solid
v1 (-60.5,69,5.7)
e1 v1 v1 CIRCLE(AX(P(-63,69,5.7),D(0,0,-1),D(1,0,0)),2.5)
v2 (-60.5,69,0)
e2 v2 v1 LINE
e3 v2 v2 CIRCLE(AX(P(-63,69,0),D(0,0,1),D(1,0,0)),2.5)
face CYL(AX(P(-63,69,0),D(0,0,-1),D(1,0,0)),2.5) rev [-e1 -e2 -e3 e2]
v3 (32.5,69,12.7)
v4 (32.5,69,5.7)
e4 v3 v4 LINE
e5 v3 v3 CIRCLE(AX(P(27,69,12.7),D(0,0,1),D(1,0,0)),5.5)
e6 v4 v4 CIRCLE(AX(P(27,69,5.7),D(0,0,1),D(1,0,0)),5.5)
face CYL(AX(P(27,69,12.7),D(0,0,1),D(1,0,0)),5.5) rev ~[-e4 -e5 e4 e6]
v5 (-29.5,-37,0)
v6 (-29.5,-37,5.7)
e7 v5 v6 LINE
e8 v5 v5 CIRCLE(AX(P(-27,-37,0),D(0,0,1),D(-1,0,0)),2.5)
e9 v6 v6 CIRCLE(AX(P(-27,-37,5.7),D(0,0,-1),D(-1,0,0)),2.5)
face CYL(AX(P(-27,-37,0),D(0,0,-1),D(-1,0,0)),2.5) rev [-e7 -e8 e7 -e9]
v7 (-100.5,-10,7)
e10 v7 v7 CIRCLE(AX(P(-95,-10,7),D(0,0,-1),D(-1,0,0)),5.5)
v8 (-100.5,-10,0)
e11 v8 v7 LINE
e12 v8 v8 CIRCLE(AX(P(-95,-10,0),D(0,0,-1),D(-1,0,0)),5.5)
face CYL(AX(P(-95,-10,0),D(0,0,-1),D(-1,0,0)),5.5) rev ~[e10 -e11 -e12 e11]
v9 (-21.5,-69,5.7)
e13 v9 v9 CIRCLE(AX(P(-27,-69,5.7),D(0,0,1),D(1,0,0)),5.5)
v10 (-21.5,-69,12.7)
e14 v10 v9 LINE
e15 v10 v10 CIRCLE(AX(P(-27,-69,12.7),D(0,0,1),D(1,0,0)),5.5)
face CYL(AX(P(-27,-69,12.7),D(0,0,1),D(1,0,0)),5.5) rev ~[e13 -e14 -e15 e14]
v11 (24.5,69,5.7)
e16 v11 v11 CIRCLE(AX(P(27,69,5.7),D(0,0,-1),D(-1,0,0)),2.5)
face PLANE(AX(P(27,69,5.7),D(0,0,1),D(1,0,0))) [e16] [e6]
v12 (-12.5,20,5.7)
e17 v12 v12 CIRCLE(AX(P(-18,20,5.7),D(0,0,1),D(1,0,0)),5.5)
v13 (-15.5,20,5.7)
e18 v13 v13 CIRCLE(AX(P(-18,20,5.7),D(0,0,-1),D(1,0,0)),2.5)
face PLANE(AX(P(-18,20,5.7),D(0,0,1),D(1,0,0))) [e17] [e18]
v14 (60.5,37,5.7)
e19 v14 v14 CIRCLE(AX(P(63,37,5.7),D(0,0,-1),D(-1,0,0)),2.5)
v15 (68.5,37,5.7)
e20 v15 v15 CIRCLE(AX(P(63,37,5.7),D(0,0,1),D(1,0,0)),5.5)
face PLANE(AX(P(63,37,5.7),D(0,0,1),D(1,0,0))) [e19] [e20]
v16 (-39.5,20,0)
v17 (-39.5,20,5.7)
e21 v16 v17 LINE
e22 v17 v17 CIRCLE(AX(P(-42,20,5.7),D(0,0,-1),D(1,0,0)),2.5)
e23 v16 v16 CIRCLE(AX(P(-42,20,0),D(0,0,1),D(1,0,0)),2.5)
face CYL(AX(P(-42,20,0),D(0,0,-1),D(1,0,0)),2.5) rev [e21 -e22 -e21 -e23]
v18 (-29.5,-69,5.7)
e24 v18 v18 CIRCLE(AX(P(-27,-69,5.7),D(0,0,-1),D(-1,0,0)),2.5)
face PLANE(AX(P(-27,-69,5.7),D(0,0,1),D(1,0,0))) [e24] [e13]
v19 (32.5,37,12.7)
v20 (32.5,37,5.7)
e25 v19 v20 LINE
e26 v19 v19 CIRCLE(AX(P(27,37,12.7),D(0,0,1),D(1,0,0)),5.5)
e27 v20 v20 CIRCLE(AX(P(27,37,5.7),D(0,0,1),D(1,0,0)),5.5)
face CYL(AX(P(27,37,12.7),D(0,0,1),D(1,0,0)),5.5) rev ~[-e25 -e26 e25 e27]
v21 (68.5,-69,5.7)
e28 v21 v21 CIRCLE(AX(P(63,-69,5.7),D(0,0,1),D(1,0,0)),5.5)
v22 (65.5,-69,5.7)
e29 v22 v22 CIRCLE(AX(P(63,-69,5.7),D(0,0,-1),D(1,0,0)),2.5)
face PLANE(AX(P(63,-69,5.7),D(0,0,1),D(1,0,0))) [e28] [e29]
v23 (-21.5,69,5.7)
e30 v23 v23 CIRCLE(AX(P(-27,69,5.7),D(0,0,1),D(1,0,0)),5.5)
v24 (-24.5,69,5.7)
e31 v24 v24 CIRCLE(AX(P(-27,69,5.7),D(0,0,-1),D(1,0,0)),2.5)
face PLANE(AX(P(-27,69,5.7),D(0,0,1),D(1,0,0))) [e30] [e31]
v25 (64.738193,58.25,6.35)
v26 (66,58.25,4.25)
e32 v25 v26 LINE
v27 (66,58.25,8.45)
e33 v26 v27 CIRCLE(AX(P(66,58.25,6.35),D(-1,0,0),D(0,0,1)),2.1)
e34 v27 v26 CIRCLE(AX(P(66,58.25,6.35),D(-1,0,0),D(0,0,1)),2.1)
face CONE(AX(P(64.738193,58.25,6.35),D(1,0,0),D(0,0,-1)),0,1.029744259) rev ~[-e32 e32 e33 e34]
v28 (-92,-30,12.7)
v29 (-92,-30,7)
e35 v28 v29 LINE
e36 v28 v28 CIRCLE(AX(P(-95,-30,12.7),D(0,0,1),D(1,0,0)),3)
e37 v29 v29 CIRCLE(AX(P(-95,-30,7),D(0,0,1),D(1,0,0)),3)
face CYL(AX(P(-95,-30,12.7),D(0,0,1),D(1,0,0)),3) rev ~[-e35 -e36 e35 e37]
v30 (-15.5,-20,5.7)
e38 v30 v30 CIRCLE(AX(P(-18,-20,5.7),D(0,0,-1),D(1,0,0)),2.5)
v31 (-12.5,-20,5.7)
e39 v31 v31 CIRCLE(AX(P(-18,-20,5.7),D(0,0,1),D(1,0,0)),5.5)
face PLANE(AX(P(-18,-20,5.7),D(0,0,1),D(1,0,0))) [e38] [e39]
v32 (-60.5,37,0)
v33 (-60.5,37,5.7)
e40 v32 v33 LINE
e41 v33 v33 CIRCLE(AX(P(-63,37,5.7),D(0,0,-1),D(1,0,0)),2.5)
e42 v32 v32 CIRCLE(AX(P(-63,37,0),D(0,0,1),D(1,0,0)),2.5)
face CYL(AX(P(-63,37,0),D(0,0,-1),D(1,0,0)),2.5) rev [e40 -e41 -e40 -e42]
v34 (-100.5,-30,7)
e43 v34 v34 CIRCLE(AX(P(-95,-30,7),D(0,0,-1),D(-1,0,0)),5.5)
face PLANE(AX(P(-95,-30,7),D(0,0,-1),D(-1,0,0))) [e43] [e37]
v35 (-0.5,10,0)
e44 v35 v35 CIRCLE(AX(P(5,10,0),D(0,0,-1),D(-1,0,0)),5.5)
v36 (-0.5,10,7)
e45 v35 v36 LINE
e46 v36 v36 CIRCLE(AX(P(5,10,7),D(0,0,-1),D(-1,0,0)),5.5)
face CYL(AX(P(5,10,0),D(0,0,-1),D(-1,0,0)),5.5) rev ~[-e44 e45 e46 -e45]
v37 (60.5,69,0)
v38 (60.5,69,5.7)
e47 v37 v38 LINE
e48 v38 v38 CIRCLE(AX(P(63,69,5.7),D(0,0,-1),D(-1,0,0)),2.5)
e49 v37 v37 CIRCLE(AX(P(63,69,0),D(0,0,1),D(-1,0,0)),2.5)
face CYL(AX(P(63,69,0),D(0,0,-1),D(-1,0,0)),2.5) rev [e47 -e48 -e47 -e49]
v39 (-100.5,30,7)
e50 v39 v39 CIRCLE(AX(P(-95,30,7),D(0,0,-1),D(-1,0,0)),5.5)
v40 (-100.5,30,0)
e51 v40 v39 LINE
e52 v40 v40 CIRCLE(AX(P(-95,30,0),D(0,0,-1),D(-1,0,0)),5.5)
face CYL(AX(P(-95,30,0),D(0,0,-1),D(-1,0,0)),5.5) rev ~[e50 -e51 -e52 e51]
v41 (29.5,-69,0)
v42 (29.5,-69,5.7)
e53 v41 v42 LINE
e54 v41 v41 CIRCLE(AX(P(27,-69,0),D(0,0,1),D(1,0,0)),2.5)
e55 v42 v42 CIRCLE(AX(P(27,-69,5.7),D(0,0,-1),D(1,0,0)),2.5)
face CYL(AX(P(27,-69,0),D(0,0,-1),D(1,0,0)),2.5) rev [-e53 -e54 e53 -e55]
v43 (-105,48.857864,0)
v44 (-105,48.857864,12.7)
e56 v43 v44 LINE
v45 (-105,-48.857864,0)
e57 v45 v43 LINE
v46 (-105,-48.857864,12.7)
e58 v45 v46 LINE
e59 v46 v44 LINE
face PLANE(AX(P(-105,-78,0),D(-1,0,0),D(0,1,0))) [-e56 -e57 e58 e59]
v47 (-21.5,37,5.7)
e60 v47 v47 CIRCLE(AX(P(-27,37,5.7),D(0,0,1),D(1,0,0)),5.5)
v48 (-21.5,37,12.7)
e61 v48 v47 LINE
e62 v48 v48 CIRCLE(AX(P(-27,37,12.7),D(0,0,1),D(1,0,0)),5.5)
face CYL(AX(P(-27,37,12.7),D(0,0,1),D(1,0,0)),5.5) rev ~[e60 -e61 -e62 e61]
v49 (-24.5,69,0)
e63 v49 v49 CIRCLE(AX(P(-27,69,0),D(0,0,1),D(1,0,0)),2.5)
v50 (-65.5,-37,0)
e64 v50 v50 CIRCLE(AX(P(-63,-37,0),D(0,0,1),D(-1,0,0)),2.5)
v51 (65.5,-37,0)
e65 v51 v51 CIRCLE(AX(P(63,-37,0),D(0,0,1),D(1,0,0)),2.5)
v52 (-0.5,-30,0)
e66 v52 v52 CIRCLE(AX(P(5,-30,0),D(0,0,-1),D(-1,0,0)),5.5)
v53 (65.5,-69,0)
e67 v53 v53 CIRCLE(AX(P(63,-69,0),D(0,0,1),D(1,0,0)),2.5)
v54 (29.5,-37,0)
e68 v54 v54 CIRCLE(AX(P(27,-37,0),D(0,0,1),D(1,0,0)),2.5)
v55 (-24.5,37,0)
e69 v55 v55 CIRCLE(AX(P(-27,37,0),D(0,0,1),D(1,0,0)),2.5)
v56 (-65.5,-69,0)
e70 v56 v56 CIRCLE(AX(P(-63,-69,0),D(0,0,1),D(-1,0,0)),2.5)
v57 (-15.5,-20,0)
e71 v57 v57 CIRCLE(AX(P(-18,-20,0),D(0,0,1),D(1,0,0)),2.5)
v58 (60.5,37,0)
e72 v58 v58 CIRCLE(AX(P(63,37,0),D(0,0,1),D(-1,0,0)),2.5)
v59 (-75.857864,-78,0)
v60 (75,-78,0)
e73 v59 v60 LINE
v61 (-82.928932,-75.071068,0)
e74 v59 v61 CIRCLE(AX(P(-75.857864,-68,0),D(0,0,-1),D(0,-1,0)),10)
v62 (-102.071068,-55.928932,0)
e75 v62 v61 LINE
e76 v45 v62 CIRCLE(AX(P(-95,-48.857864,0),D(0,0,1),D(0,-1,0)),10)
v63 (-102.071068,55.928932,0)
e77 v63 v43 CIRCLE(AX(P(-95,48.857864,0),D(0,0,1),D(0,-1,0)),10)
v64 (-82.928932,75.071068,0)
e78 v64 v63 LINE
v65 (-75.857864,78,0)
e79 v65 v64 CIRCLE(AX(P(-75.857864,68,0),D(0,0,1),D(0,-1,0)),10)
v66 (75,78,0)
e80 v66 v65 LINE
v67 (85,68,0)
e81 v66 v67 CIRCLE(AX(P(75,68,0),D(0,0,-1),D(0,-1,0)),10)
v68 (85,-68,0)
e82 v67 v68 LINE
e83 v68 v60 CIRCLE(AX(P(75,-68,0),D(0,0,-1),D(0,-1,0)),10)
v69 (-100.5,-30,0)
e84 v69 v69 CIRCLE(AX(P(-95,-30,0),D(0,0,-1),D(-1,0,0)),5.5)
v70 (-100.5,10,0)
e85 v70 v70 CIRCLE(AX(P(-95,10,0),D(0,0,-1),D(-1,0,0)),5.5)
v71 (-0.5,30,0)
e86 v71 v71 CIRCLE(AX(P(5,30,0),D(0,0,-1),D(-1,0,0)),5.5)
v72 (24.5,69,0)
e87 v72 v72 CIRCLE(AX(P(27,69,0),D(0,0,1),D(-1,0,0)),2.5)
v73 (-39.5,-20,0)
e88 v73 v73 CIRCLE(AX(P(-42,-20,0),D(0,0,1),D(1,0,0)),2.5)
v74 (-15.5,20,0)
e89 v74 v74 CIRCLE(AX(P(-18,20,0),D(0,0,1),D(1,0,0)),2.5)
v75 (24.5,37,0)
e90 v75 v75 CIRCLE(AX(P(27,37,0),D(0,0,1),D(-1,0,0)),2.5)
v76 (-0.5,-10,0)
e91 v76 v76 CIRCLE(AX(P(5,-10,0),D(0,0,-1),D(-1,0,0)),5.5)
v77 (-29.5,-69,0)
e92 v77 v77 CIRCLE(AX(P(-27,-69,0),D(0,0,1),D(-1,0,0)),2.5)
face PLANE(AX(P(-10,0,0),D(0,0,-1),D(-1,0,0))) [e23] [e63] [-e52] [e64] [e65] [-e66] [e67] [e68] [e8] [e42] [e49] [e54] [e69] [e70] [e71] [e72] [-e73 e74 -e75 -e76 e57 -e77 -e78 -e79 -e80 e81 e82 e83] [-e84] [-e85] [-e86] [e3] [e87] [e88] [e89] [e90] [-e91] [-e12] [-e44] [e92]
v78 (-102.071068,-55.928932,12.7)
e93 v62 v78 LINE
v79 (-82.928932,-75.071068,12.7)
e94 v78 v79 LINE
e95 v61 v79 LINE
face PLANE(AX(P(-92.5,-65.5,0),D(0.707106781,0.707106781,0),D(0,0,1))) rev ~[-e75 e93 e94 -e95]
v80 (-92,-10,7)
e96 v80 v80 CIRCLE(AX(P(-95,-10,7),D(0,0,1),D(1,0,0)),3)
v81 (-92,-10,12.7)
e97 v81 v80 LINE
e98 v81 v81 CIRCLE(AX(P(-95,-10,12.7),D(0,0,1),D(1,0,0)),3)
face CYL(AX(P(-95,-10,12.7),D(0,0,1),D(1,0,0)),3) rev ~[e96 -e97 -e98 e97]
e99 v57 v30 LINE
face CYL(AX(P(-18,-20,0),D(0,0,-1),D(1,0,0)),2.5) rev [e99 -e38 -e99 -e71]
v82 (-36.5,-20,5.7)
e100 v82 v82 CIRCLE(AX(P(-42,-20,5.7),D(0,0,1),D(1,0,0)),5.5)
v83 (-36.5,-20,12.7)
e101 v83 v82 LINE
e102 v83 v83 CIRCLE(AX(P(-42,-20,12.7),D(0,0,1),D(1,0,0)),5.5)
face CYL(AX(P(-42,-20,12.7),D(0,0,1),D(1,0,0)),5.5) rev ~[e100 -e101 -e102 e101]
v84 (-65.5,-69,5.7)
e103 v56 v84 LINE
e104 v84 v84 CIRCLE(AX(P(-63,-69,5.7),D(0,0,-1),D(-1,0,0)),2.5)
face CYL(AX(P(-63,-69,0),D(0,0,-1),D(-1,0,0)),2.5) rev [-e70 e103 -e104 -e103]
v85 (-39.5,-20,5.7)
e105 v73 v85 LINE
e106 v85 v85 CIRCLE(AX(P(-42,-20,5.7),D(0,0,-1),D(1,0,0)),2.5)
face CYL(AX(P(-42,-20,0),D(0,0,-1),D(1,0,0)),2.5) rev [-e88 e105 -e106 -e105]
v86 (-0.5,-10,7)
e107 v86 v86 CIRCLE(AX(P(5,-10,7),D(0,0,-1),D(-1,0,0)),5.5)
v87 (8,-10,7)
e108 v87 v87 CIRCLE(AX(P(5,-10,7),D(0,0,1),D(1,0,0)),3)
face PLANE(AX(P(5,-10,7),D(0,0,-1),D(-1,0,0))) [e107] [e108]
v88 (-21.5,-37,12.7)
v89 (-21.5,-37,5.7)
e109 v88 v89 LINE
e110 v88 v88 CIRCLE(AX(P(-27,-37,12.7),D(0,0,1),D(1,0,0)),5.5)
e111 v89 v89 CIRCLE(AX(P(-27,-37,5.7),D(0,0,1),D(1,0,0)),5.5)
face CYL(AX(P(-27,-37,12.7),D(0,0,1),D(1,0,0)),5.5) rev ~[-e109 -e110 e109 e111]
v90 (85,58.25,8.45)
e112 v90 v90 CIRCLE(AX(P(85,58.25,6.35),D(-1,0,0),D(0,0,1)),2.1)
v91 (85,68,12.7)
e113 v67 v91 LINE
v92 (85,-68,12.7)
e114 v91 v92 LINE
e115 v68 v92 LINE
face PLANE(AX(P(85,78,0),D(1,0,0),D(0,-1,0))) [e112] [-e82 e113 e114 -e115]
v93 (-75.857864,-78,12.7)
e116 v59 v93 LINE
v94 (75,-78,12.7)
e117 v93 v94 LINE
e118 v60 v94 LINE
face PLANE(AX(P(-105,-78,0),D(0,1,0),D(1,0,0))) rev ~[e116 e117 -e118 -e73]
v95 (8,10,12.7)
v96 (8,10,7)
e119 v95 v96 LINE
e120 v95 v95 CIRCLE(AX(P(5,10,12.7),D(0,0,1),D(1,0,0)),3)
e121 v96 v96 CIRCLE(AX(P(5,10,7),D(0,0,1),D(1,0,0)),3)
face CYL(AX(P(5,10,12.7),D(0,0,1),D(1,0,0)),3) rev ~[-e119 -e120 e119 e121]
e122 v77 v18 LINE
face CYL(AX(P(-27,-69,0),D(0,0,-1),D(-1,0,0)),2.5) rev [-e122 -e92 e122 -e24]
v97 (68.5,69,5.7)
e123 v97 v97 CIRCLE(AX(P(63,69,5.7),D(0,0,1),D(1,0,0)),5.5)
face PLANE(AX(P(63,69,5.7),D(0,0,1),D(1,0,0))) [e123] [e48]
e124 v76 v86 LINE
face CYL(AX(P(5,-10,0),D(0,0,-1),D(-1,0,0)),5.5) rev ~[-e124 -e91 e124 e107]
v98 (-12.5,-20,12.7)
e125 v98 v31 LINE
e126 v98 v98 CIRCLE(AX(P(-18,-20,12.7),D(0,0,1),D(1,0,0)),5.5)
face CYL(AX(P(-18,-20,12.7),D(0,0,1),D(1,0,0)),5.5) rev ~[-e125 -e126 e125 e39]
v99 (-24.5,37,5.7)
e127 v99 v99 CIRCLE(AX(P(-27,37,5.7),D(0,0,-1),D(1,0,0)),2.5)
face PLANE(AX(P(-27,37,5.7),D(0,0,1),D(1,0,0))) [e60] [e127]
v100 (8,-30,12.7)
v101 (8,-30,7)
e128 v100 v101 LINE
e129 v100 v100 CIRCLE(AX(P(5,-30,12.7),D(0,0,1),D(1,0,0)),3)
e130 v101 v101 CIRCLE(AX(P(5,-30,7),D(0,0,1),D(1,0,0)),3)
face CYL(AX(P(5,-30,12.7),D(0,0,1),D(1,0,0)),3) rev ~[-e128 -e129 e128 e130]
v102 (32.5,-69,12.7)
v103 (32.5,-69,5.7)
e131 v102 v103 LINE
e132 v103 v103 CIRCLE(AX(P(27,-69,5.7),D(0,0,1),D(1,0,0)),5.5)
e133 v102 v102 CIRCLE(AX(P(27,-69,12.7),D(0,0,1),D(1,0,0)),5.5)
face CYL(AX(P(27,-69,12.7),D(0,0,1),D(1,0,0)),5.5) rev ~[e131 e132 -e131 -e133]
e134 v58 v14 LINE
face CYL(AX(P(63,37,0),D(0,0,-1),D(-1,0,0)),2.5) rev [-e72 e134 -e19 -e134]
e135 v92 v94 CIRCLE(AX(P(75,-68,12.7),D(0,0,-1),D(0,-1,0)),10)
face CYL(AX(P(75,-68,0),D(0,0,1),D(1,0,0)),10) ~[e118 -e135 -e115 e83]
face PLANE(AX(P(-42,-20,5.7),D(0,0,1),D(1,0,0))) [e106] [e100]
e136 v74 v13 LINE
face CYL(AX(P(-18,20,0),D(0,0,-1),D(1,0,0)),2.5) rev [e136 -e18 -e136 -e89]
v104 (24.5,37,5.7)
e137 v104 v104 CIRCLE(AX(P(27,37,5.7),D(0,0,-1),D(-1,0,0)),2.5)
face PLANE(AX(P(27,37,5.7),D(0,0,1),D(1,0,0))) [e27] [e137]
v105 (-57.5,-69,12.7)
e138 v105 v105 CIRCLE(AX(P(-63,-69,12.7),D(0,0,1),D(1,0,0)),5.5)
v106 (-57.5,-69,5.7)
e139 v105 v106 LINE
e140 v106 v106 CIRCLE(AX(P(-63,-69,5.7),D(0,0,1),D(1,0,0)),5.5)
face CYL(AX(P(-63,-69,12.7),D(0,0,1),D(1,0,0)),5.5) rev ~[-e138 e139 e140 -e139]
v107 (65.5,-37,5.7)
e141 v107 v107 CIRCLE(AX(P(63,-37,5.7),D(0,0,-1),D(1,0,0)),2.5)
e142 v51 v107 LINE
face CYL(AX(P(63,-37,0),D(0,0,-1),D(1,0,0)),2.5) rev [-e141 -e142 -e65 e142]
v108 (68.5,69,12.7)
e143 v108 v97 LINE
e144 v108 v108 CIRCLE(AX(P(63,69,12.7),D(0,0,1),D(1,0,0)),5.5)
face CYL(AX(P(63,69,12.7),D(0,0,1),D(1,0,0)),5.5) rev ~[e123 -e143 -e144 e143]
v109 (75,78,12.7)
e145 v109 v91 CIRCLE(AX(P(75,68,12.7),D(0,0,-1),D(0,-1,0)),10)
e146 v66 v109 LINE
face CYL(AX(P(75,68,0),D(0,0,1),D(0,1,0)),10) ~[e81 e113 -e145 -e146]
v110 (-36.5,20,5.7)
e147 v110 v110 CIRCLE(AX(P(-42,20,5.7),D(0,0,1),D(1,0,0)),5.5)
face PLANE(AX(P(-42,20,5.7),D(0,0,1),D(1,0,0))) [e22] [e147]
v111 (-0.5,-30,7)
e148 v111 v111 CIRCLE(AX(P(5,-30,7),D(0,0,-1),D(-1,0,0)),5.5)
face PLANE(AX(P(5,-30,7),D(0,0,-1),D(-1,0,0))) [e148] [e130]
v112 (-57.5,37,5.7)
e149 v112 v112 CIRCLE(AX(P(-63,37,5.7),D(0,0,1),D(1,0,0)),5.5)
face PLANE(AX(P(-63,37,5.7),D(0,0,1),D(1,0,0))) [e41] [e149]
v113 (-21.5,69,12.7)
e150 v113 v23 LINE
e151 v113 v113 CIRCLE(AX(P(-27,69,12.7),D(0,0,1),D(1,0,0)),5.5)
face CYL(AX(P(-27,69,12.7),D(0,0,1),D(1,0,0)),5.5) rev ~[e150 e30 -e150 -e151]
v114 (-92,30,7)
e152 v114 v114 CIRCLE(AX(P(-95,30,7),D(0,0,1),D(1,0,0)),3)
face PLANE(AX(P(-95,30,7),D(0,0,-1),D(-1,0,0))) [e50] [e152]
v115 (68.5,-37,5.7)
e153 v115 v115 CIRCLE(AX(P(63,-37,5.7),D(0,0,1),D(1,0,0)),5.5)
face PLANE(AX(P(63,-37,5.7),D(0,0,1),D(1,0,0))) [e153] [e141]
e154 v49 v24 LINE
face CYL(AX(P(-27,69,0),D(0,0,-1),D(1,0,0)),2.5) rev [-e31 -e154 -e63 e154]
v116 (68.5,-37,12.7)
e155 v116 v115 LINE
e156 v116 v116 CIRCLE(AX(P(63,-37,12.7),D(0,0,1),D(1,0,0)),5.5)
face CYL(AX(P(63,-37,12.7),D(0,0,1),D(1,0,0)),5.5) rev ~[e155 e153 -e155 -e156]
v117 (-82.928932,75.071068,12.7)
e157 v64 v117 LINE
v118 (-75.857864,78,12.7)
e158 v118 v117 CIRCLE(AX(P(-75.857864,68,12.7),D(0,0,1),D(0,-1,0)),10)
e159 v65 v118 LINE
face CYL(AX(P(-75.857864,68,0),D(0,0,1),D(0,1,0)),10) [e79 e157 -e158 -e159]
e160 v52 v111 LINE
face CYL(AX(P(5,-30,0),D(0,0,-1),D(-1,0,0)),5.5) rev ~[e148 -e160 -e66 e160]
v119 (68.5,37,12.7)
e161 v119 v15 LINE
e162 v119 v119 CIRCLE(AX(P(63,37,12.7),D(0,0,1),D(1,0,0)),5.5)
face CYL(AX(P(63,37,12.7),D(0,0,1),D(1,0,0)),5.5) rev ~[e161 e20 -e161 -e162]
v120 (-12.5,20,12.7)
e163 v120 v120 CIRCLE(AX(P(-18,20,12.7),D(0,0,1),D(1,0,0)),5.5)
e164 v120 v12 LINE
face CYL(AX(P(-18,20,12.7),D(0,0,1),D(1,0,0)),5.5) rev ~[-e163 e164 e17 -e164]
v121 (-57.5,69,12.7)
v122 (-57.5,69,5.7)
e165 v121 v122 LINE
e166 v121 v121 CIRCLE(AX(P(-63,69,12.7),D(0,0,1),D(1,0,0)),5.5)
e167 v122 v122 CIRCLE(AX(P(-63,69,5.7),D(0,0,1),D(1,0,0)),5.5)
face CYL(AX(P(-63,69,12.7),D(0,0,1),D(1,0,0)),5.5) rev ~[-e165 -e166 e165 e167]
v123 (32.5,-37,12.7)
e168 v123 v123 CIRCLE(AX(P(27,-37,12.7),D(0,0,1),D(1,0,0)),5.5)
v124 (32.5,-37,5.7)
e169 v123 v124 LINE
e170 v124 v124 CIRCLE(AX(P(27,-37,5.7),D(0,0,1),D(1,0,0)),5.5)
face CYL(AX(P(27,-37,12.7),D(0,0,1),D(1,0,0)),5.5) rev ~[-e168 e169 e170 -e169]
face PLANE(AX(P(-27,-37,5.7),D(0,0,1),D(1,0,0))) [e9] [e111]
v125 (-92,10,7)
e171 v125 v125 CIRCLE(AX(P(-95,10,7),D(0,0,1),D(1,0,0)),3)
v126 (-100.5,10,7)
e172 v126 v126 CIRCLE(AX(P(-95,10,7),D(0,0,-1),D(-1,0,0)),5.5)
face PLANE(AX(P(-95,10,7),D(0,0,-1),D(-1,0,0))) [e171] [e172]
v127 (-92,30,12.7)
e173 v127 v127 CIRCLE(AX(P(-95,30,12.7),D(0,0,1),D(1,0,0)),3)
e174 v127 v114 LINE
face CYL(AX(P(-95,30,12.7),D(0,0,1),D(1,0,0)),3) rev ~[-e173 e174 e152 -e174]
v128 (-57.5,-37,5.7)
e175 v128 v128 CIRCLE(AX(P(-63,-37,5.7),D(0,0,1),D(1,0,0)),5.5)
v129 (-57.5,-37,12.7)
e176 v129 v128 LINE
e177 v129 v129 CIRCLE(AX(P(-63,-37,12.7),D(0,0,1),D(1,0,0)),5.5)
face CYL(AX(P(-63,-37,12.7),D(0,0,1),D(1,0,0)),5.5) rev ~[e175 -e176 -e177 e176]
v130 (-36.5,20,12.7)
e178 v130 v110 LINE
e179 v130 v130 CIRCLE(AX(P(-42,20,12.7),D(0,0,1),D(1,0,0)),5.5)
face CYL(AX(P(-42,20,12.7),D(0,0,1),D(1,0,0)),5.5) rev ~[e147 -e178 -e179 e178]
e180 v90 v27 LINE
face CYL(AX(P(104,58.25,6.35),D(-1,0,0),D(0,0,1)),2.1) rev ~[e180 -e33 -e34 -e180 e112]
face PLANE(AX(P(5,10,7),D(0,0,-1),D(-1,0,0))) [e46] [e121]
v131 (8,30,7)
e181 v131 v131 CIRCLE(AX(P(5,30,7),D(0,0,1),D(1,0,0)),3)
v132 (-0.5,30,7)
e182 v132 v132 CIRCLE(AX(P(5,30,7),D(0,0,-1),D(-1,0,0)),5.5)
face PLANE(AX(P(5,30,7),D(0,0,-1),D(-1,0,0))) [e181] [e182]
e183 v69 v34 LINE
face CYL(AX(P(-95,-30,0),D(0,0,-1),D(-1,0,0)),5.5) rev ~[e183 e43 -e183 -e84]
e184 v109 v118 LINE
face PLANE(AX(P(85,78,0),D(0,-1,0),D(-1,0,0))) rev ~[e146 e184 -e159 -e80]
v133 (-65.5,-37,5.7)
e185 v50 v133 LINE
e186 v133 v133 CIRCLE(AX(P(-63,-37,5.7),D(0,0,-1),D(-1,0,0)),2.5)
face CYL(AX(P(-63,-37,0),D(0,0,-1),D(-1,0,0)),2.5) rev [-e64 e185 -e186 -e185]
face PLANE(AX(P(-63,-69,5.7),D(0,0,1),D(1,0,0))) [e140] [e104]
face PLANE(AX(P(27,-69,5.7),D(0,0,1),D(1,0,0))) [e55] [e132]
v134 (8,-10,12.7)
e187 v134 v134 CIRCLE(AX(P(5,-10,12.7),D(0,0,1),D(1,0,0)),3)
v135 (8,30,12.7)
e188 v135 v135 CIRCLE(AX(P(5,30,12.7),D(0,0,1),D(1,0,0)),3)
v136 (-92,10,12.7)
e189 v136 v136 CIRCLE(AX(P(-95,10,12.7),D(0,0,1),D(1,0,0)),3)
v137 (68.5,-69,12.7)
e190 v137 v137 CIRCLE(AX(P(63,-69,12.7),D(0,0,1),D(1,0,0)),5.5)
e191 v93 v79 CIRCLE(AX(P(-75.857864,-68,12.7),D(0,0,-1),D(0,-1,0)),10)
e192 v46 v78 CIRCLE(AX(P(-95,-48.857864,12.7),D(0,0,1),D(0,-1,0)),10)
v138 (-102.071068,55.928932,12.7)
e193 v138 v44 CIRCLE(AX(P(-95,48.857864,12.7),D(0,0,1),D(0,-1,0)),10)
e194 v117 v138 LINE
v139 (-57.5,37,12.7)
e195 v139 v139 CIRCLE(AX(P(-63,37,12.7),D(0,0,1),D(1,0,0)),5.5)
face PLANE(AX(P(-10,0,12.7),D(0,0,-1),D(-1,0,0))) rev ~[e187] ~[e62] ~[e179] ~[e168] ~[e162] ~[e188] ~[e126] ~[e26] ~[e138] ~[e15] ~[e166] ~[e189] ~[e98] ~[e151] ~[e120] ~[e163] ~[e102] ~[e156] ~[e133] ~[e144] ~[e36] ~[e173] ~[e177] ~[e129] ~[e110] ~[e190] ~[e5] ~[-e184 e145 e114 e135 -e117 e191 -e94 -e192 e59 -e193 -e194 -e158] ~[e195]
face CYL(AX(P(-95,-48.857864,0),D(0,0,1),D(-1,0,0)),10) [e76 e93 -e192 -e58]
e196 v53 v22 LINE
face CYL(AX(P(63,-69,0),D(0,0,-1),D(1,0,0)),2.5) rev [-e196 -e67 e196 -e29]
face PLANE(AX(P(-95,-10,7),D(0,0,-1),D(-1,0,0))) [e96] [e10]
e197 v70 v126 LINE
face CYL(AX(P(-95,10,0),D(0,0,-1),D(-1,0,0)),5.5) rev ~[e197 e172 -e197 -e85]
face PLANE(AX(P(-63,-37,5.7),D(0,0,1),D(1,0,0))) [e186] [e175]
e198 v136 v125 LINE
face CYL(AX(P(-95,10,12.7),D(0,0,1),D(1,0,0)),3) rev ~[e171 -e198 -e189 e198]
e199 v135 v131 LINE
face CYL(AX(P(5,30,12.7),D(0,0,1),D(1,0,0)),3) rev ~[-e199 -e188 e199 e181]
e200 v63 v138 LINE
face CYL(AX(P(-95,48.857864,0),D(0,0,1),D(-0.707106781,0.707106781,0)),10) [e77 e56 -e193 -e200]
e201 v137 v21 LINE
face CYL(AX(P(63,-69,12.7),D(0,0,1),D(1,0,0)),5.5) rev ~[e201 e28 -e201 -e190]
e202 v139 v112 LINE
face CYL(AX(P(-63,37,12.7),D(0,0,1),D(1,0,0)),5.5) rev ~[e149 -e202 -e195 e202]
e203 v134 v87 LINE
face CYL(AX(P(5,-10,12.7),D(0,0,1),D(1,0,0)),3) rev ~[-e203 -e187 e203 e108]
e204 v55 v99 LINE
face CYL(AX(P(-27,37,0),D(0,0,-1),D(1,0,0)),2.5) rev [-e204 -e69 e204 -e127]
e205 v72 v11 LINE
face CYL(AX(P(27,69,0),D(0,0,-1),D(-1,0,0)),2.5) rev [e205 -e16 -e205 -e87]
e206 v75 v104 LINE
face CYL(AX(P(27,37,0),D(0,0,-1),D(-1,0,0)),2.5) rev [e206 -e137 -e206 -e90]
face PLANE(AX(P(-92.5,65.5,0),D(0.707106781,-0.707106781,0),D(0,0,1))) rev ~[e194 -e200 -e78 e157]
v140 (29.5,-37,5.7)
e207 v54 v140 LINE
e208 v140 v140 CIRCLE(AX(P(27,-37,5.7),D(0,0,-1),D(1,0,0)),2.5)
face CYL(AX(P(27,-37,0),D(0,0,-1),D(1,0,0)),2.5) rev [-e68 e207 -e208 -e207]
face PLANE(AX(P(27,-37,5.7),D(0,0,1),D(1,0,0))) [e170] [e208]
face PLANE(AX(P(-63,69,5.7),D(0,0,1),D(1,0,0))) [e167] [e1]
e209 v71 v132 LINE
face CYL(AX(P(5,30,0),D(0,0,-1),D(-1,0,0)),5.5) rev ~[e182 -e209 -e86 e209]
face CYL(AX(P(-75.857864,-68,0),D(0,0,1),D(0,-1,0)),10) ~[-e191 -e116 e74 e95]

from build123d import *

# Parameters (mm, degrees)
SKETCH1_R                 = 2.5
BOSS_EXTRUDE1_DEPTH       = 12.7
SKETCH2_R                 = 5.5
CUT_EXTRUDE1_DEPTH        = 7
CUT_EXTRUDE2_REACH        = 133.416
SKETCH3_R                 = 3
SKETCH4_R                 = 5.5
CUT_EXTRUDE3_DEPTH        = 7
CHAMFER1_SIZE             = 25
FILLET1_R                 = 10
M5X0_8_TAPPED_HOLE1_D     = 4.2
M5X0_8_TAPPED_HOLE1_DEPTH = 19
M5X0_8_TAPPED_HOLE1_TIP   = 1.2618073


with BuildPart() as part:
    # Sketch1 → Boss-Extrude1 (new body)
    with BuildSketch(Plane.XY):
        Polygon((-85, 78), (85, 78), (85, -78), (-85, -78), (-105, -78), (-105, 78), align=None)
        with Locations((27, -37)):
            Circle(SKETCH1_R, mode=Mode.SUBTRACT)
        with Locations((63, -37)):
            Circle(SKETCH1_R, mode=Mode.SUBTRACT)
        with Locations((27, -69)):
            Circle(SKETCH1_R, mode=Mode.SUBTRACT)
        with Locations((63, -69)):
            Circle(SKETCH1_R, mode=Mode.SUBTRACT)
        with Locations(Location((-63, -37, 0), (0, 0, 180))):
            Circle(SKETCH1_R, mode=Mode.SUBTRACT)
        with Locations(Location((-63, -69, 0), (0, 0, 180))):
            Circle(SKETCH1_R, mode=Mode.SUBTRACT)
        with Locations(Location((-27, -69, 0), (0, 0, 180))):
            Circle(SKETCH1_R, mode=Mode.SUBTRACT)
        with Locations(Location((-27, -37, 0), (0, 0, 180))):
            Circle(SKETCH1_R, mode=Mode.SUBTRACT)
        with Locations(Location((63, 69, 0), (0, 0, 180))):
            Circle(SKETCH1_R, mode=Mode.SUBTRACT)
        with Locations(Location((63, 37, 0), (0, 0, 180))):
            Circle(SKETCH1_R, mode=Mode.SUBTRACT)
        with Locations(Location((27, 69, 0), (0, 0, 180))):
            Circle(SKETCH1_R, mode=Mode.SUBTRACT)
        with Locations(Location((27, 37, 0), (0, 0, 180))):
            Circle(SKETCH1_R, mode=Mode.SUBTRACT)
        with Locations((-27, 69)):
            Circle(SKETCH1_R, mode=Mode.SUBTRACT)
        with Locations((-27, 37)):
            Circle(SKETCH1_R, mode=Mode.SUBTRACT)
        with Locations((-63, 69)):
            Circle(SKETCH1_R, mode=Mode.SUBTRACT)
        with Locations((-63, 37)):
            Circle(SKETCH1_R, mode=Mode.SUBTRACT)
        with Locations((-42, 20)):
            Circle(SKETCH1_R, mode=Mode.SUBTRACT)
        with Locations((-18, 20)):
            Circle(SKETCH1_R, mode=Mode.SUBTRACT)
        with Locations((-42, -20)):
            Circle(SKETCH1_R, mode=Mode.SUBTRACT)
        with Locations((-18, -20)):
            Circle(SKETCH1_R, mode=Mode.SUBTRACT)
    extrude(amount=BOSS_EXTRUDE1_DEPTH)

    # Sketch2 → Cut-Extrude1 (cut)
    with BuildSketch(Plane.XY.offset(12.7)):
        with Locations((-63, 69)):
            Circle(SKETCH2_R)
        with Locations((-27, 69)):
            Circle(SKETCH2_R)
        with Locations((-63, 37)):
            Circle(SKETCH2_R)
        with Locations((-27, 37)):
            Circle(SKETCH2_R)
        with Locations((27, 69)):
            Circle(SKETCH2_R)
        with Locations((63, 69)):
            Circle(SKETCH2_R)
        with Locations((27, 37)):
            Circle(SKETCH2_R)
        with Locations((63, 37)):
            Circle(SKETCH2_R)
        with Locations((-42, 20)):
            Circle(SKETCH2_R)
        with Locations((-18, 20)):
            Circle(SKETCH2_R)
        with Locations((-42, -20)):
            Circle(SKETCH2_R)
        with Locations((-18, -20)):
            Circle(SKETCH2_R)
        with Locations((-63, -37)):
            Circle(SKETCH2_R)
        with Locations((-27, -37)):
            Circle(SKETCH2_R)
        with Locations((-63, -69)):
            Circle(SKETCH2_R)
        with Locations((-27, -69)):
            Circle(SKETCH2_R)
        with Locations((27, -69)):
            Circle(SKETCH2_R)
        with Locations((27, -37)):
            Circle(SKETCH2_R)
        with Locations((63, -37)):
            Circle(SKETCH2_R)
        with Locations((63, -69)):
            Circle(SKETCH2_R)
    extrude(amount=-CUT_EXTRUDE1_DEPTH, mode=Mode.SUBTRACT)

    # Sketch3 → Cut-Extrude2 (cut, up to next)
    with BuildSketch(Plane.XY.offset(12.7), mode=Mode.PRIVATE) as cut_extrude2_sk1:
        with Locations((-95, 30)):
            Circle(SKETCH3_R)
    cut_extrude2_tool1 = extrude(cut_extrude2_sk1.sketch, amount=-CUT_EXTRUDE2_REACH, mode=Mode.PRIVATE) & part.part
    # Sketch3 → Cut-Extrude2 (cut, up to next)
    with BuildSketch(Plane.XY.offset(12.7), mode=Mode.PRIVATE) as cut_extrude2_sk2:
        with Locations((-95, 10)):
            Circle(SKETCH3_R)
    cut_extrude2_tool2 = extrude(cut_extrude2_sk2.sketch, amount=-CUT_EXTRUDE2_REACH, mode=Mode.PRIVATE) & part.part
    # Sketch3 → Cut-Extrude2 (cut, up to next)
    with BuildSketch(Plane.XY.offset(12.7), mode=Mode.PRIVATE) as cut_extrude2_sk3:
        with Locations((-95, -10)):
            Circle(SKETCH3_R)
    cut_extrude2_tool3 = extrude(cut_extrude2_sk3.sketch, amount=-CUT_EXTRUDE2_REACH, mode=Mode.PRIVATE) & part.part
    # Sketch3 → Cut-Extrude2 (cut, up to next)
    with BuildSketch(Plane.XY.offset(12.7), mode=Mode.PRIVATE) as cut_extrude2_sk4:
        with Locations((-95, -30)):
            Circle(SKETCH3_R)
    cut_extrude2_tool4 = extrude(cut_extrude2_sk4.sketch, amount=-CUT_EXTRUDE2_REACH, mode=Mode.PRIVATE) & part.part
    # Sketch3 → Cut-Extrude2 (cut, up to next)
    with BuildSketch(Plane.XY.offset(12.7), mode=Mode.PRIVATE) as cut_extrude2_sk5:
        with Locations((5, -30)):
            Circle(SKETCH3_R)
    cut_extrude2_tool5 = extrude(cut_extrude2_sk5.sketch, amount=-CUT_EXTRUDE2_REACH, mode=Mode.PRIVATE) & part.part
    # Sketch3 → Cut-Extrude2 (cut, up to next)
    with BuildSketch(Plane.XY.offset(12.7), mode=Mode.PRIVATE) as cut_extrude2_sk6:
        with Locations((5, -10)):
            Circle(SKETCH3_R)
    cut_extrude2_tool6 = extrude(cut_extrude2_sk6.sketch, amount=-CUT_EXTRUDE2_REACH, mode=Mode.PRIVATE) & part.part
    # Sketch3 → Cut-Extrude2 (cut, up to next)
    with BuildSketch(Plane.XY.offset(12.7), mode=Mode.PRIVATE) as cut_extrude2_sk7:
        with Locations((5, 10)):
            Circle(SKETCH3_R)
    cut_extrude2_tool7 = extrude(cut_extrude2_sk7.sketch, amount=-CUT_EXTRUDE2_REACH, mode=Mode.PRIVATE) & part.part
    # Sketch3 → Cut-Extrude2 (cut, up to next)
    with BuildSketch(Plane.XY.offset(12.7), mode=Mode.PRIVATE) as cut_extrude2_sk8:
        with Locations((5, 30)):
            Circle(SKETCH3_R)
    cut_extrude2_tool8 = extrude(cut_extrude2_sk8.sketch, amount=-CUT_EXTRUDE2_REACH, mode=Mode.PRIVATE) & part.part
    add(cut_extrude2_tool1.solids().sort_by_distance((-95, 30, 12.7))[0], mode=Mode.SUBTRACT)
    add(cut_extrude2_tool2.solids().sort_by_distance((-95, 10, 12.7))[0], mode=Mode.SUBTRACT)
    add(cut_extrude2_tool3.solids().sort_by_distance((-95, -10, 12.7))[0], mode=Mode.SUBTRACT)
    add(cut_extrude2_tool4.solids().sort_by_distance((-95, -30, 12.7))[0], mode=Mode.SUBTRACT)
    add(cut_extrude2_tool5.solids().sort_by_distance((5, -30, 12.7))[0], mode=Mode.SUBTRACT)
    add(cut_extrude2_tool6.solids().sort_by_distance((5, -10, 12.7))[0], mode=Mode.SUBTRACT)
    add(cut_extrude2_tool7.solids().sort_by_distance((5, 10, 12.7))[0], mode=Mode.SUBTRACT)
    add(cut_extrude2_tool8.solids().sort_by_distance((5, 30, 12.7))[0], mode=Mode.SUBTRACT)

    # Sketch4 → Cut-Extrude3 (cut)
    with BuildSketch(Plane(origin=(0, 0, 0), x_dir=(-1, 0, 0), z_dir=(0, 0, -1))):
        with Locations((-5, 30)):
            Circle(SKETCH4_R)
        with Locations((-5, 10)):
            Circle(SKETCH4_R)
        with Locations((-5, -10)):
            Circle(SKETCH4_R)
        with Locations((-5, -30)):
            Circle(SKETCH4_R)
        with Locations((95, 30)):
            Circle(SKETCH4_R)
        with Locations((95, 10)):
            Circle(SKETCH4_R)
        with Locations((95, -10)):
            Circle(SKETCH4_R)
        with Locations((95, -30)):
            Circle(SKETCH4_R)
    extrude(amount=-CUT_EXTRUDE3_DEPTH, mode=Mode.SUBTRACT)

    # Chamfer1
    chamfer1_edges = [part.edges().sort_by_distance(p)[0] for p in [
        (-105, -78, 6.35),
        (-105, 78, 6.35),
    ]]
    chamfer(chamfer1_edges, length=CHAMFER1_SIZE)

    # Fillet1
    fillet1_edges = [part.edges().sort_by_distance(p)[0] for p in [
        (85, 78, 6.35),
        (85, -78, 6.35),
        (-105, -53, 6.35),
        (-105, 53, 6.35),
        (-80, 78, 6.35),
        (-80, -78, 6.35),
    ]]
    fillet(fillet1_edges, radius=FILLET1_R)

    # M5x0.8 Tapped Hole1
    with Locations(Plane(origin=(85, 0, 0), x_dir=(0, 0, -1), z_dir=(1, 0, 0))):
        with Locations((-6.35, 58.25)):
            Hole(M5X0_8_TAPPED_HOLE1_D / 2, depth=M5X0_8_TAPPED_HOLE1_DEPTH)
            with Locations((0, 0, -(M5X0_8_TAPPED_HOLE1_DEPTH + M5X0_8_TAPPED_HOLE1_TIP / 2))):  # 118° drill point
                Cone(0, M5X0_8_TAPPED_HOLE1_D / 2, M5X0_8_TAPPED_HOLE1_TIP, mode=Mode.SUBTRACT)


solid = part.part
